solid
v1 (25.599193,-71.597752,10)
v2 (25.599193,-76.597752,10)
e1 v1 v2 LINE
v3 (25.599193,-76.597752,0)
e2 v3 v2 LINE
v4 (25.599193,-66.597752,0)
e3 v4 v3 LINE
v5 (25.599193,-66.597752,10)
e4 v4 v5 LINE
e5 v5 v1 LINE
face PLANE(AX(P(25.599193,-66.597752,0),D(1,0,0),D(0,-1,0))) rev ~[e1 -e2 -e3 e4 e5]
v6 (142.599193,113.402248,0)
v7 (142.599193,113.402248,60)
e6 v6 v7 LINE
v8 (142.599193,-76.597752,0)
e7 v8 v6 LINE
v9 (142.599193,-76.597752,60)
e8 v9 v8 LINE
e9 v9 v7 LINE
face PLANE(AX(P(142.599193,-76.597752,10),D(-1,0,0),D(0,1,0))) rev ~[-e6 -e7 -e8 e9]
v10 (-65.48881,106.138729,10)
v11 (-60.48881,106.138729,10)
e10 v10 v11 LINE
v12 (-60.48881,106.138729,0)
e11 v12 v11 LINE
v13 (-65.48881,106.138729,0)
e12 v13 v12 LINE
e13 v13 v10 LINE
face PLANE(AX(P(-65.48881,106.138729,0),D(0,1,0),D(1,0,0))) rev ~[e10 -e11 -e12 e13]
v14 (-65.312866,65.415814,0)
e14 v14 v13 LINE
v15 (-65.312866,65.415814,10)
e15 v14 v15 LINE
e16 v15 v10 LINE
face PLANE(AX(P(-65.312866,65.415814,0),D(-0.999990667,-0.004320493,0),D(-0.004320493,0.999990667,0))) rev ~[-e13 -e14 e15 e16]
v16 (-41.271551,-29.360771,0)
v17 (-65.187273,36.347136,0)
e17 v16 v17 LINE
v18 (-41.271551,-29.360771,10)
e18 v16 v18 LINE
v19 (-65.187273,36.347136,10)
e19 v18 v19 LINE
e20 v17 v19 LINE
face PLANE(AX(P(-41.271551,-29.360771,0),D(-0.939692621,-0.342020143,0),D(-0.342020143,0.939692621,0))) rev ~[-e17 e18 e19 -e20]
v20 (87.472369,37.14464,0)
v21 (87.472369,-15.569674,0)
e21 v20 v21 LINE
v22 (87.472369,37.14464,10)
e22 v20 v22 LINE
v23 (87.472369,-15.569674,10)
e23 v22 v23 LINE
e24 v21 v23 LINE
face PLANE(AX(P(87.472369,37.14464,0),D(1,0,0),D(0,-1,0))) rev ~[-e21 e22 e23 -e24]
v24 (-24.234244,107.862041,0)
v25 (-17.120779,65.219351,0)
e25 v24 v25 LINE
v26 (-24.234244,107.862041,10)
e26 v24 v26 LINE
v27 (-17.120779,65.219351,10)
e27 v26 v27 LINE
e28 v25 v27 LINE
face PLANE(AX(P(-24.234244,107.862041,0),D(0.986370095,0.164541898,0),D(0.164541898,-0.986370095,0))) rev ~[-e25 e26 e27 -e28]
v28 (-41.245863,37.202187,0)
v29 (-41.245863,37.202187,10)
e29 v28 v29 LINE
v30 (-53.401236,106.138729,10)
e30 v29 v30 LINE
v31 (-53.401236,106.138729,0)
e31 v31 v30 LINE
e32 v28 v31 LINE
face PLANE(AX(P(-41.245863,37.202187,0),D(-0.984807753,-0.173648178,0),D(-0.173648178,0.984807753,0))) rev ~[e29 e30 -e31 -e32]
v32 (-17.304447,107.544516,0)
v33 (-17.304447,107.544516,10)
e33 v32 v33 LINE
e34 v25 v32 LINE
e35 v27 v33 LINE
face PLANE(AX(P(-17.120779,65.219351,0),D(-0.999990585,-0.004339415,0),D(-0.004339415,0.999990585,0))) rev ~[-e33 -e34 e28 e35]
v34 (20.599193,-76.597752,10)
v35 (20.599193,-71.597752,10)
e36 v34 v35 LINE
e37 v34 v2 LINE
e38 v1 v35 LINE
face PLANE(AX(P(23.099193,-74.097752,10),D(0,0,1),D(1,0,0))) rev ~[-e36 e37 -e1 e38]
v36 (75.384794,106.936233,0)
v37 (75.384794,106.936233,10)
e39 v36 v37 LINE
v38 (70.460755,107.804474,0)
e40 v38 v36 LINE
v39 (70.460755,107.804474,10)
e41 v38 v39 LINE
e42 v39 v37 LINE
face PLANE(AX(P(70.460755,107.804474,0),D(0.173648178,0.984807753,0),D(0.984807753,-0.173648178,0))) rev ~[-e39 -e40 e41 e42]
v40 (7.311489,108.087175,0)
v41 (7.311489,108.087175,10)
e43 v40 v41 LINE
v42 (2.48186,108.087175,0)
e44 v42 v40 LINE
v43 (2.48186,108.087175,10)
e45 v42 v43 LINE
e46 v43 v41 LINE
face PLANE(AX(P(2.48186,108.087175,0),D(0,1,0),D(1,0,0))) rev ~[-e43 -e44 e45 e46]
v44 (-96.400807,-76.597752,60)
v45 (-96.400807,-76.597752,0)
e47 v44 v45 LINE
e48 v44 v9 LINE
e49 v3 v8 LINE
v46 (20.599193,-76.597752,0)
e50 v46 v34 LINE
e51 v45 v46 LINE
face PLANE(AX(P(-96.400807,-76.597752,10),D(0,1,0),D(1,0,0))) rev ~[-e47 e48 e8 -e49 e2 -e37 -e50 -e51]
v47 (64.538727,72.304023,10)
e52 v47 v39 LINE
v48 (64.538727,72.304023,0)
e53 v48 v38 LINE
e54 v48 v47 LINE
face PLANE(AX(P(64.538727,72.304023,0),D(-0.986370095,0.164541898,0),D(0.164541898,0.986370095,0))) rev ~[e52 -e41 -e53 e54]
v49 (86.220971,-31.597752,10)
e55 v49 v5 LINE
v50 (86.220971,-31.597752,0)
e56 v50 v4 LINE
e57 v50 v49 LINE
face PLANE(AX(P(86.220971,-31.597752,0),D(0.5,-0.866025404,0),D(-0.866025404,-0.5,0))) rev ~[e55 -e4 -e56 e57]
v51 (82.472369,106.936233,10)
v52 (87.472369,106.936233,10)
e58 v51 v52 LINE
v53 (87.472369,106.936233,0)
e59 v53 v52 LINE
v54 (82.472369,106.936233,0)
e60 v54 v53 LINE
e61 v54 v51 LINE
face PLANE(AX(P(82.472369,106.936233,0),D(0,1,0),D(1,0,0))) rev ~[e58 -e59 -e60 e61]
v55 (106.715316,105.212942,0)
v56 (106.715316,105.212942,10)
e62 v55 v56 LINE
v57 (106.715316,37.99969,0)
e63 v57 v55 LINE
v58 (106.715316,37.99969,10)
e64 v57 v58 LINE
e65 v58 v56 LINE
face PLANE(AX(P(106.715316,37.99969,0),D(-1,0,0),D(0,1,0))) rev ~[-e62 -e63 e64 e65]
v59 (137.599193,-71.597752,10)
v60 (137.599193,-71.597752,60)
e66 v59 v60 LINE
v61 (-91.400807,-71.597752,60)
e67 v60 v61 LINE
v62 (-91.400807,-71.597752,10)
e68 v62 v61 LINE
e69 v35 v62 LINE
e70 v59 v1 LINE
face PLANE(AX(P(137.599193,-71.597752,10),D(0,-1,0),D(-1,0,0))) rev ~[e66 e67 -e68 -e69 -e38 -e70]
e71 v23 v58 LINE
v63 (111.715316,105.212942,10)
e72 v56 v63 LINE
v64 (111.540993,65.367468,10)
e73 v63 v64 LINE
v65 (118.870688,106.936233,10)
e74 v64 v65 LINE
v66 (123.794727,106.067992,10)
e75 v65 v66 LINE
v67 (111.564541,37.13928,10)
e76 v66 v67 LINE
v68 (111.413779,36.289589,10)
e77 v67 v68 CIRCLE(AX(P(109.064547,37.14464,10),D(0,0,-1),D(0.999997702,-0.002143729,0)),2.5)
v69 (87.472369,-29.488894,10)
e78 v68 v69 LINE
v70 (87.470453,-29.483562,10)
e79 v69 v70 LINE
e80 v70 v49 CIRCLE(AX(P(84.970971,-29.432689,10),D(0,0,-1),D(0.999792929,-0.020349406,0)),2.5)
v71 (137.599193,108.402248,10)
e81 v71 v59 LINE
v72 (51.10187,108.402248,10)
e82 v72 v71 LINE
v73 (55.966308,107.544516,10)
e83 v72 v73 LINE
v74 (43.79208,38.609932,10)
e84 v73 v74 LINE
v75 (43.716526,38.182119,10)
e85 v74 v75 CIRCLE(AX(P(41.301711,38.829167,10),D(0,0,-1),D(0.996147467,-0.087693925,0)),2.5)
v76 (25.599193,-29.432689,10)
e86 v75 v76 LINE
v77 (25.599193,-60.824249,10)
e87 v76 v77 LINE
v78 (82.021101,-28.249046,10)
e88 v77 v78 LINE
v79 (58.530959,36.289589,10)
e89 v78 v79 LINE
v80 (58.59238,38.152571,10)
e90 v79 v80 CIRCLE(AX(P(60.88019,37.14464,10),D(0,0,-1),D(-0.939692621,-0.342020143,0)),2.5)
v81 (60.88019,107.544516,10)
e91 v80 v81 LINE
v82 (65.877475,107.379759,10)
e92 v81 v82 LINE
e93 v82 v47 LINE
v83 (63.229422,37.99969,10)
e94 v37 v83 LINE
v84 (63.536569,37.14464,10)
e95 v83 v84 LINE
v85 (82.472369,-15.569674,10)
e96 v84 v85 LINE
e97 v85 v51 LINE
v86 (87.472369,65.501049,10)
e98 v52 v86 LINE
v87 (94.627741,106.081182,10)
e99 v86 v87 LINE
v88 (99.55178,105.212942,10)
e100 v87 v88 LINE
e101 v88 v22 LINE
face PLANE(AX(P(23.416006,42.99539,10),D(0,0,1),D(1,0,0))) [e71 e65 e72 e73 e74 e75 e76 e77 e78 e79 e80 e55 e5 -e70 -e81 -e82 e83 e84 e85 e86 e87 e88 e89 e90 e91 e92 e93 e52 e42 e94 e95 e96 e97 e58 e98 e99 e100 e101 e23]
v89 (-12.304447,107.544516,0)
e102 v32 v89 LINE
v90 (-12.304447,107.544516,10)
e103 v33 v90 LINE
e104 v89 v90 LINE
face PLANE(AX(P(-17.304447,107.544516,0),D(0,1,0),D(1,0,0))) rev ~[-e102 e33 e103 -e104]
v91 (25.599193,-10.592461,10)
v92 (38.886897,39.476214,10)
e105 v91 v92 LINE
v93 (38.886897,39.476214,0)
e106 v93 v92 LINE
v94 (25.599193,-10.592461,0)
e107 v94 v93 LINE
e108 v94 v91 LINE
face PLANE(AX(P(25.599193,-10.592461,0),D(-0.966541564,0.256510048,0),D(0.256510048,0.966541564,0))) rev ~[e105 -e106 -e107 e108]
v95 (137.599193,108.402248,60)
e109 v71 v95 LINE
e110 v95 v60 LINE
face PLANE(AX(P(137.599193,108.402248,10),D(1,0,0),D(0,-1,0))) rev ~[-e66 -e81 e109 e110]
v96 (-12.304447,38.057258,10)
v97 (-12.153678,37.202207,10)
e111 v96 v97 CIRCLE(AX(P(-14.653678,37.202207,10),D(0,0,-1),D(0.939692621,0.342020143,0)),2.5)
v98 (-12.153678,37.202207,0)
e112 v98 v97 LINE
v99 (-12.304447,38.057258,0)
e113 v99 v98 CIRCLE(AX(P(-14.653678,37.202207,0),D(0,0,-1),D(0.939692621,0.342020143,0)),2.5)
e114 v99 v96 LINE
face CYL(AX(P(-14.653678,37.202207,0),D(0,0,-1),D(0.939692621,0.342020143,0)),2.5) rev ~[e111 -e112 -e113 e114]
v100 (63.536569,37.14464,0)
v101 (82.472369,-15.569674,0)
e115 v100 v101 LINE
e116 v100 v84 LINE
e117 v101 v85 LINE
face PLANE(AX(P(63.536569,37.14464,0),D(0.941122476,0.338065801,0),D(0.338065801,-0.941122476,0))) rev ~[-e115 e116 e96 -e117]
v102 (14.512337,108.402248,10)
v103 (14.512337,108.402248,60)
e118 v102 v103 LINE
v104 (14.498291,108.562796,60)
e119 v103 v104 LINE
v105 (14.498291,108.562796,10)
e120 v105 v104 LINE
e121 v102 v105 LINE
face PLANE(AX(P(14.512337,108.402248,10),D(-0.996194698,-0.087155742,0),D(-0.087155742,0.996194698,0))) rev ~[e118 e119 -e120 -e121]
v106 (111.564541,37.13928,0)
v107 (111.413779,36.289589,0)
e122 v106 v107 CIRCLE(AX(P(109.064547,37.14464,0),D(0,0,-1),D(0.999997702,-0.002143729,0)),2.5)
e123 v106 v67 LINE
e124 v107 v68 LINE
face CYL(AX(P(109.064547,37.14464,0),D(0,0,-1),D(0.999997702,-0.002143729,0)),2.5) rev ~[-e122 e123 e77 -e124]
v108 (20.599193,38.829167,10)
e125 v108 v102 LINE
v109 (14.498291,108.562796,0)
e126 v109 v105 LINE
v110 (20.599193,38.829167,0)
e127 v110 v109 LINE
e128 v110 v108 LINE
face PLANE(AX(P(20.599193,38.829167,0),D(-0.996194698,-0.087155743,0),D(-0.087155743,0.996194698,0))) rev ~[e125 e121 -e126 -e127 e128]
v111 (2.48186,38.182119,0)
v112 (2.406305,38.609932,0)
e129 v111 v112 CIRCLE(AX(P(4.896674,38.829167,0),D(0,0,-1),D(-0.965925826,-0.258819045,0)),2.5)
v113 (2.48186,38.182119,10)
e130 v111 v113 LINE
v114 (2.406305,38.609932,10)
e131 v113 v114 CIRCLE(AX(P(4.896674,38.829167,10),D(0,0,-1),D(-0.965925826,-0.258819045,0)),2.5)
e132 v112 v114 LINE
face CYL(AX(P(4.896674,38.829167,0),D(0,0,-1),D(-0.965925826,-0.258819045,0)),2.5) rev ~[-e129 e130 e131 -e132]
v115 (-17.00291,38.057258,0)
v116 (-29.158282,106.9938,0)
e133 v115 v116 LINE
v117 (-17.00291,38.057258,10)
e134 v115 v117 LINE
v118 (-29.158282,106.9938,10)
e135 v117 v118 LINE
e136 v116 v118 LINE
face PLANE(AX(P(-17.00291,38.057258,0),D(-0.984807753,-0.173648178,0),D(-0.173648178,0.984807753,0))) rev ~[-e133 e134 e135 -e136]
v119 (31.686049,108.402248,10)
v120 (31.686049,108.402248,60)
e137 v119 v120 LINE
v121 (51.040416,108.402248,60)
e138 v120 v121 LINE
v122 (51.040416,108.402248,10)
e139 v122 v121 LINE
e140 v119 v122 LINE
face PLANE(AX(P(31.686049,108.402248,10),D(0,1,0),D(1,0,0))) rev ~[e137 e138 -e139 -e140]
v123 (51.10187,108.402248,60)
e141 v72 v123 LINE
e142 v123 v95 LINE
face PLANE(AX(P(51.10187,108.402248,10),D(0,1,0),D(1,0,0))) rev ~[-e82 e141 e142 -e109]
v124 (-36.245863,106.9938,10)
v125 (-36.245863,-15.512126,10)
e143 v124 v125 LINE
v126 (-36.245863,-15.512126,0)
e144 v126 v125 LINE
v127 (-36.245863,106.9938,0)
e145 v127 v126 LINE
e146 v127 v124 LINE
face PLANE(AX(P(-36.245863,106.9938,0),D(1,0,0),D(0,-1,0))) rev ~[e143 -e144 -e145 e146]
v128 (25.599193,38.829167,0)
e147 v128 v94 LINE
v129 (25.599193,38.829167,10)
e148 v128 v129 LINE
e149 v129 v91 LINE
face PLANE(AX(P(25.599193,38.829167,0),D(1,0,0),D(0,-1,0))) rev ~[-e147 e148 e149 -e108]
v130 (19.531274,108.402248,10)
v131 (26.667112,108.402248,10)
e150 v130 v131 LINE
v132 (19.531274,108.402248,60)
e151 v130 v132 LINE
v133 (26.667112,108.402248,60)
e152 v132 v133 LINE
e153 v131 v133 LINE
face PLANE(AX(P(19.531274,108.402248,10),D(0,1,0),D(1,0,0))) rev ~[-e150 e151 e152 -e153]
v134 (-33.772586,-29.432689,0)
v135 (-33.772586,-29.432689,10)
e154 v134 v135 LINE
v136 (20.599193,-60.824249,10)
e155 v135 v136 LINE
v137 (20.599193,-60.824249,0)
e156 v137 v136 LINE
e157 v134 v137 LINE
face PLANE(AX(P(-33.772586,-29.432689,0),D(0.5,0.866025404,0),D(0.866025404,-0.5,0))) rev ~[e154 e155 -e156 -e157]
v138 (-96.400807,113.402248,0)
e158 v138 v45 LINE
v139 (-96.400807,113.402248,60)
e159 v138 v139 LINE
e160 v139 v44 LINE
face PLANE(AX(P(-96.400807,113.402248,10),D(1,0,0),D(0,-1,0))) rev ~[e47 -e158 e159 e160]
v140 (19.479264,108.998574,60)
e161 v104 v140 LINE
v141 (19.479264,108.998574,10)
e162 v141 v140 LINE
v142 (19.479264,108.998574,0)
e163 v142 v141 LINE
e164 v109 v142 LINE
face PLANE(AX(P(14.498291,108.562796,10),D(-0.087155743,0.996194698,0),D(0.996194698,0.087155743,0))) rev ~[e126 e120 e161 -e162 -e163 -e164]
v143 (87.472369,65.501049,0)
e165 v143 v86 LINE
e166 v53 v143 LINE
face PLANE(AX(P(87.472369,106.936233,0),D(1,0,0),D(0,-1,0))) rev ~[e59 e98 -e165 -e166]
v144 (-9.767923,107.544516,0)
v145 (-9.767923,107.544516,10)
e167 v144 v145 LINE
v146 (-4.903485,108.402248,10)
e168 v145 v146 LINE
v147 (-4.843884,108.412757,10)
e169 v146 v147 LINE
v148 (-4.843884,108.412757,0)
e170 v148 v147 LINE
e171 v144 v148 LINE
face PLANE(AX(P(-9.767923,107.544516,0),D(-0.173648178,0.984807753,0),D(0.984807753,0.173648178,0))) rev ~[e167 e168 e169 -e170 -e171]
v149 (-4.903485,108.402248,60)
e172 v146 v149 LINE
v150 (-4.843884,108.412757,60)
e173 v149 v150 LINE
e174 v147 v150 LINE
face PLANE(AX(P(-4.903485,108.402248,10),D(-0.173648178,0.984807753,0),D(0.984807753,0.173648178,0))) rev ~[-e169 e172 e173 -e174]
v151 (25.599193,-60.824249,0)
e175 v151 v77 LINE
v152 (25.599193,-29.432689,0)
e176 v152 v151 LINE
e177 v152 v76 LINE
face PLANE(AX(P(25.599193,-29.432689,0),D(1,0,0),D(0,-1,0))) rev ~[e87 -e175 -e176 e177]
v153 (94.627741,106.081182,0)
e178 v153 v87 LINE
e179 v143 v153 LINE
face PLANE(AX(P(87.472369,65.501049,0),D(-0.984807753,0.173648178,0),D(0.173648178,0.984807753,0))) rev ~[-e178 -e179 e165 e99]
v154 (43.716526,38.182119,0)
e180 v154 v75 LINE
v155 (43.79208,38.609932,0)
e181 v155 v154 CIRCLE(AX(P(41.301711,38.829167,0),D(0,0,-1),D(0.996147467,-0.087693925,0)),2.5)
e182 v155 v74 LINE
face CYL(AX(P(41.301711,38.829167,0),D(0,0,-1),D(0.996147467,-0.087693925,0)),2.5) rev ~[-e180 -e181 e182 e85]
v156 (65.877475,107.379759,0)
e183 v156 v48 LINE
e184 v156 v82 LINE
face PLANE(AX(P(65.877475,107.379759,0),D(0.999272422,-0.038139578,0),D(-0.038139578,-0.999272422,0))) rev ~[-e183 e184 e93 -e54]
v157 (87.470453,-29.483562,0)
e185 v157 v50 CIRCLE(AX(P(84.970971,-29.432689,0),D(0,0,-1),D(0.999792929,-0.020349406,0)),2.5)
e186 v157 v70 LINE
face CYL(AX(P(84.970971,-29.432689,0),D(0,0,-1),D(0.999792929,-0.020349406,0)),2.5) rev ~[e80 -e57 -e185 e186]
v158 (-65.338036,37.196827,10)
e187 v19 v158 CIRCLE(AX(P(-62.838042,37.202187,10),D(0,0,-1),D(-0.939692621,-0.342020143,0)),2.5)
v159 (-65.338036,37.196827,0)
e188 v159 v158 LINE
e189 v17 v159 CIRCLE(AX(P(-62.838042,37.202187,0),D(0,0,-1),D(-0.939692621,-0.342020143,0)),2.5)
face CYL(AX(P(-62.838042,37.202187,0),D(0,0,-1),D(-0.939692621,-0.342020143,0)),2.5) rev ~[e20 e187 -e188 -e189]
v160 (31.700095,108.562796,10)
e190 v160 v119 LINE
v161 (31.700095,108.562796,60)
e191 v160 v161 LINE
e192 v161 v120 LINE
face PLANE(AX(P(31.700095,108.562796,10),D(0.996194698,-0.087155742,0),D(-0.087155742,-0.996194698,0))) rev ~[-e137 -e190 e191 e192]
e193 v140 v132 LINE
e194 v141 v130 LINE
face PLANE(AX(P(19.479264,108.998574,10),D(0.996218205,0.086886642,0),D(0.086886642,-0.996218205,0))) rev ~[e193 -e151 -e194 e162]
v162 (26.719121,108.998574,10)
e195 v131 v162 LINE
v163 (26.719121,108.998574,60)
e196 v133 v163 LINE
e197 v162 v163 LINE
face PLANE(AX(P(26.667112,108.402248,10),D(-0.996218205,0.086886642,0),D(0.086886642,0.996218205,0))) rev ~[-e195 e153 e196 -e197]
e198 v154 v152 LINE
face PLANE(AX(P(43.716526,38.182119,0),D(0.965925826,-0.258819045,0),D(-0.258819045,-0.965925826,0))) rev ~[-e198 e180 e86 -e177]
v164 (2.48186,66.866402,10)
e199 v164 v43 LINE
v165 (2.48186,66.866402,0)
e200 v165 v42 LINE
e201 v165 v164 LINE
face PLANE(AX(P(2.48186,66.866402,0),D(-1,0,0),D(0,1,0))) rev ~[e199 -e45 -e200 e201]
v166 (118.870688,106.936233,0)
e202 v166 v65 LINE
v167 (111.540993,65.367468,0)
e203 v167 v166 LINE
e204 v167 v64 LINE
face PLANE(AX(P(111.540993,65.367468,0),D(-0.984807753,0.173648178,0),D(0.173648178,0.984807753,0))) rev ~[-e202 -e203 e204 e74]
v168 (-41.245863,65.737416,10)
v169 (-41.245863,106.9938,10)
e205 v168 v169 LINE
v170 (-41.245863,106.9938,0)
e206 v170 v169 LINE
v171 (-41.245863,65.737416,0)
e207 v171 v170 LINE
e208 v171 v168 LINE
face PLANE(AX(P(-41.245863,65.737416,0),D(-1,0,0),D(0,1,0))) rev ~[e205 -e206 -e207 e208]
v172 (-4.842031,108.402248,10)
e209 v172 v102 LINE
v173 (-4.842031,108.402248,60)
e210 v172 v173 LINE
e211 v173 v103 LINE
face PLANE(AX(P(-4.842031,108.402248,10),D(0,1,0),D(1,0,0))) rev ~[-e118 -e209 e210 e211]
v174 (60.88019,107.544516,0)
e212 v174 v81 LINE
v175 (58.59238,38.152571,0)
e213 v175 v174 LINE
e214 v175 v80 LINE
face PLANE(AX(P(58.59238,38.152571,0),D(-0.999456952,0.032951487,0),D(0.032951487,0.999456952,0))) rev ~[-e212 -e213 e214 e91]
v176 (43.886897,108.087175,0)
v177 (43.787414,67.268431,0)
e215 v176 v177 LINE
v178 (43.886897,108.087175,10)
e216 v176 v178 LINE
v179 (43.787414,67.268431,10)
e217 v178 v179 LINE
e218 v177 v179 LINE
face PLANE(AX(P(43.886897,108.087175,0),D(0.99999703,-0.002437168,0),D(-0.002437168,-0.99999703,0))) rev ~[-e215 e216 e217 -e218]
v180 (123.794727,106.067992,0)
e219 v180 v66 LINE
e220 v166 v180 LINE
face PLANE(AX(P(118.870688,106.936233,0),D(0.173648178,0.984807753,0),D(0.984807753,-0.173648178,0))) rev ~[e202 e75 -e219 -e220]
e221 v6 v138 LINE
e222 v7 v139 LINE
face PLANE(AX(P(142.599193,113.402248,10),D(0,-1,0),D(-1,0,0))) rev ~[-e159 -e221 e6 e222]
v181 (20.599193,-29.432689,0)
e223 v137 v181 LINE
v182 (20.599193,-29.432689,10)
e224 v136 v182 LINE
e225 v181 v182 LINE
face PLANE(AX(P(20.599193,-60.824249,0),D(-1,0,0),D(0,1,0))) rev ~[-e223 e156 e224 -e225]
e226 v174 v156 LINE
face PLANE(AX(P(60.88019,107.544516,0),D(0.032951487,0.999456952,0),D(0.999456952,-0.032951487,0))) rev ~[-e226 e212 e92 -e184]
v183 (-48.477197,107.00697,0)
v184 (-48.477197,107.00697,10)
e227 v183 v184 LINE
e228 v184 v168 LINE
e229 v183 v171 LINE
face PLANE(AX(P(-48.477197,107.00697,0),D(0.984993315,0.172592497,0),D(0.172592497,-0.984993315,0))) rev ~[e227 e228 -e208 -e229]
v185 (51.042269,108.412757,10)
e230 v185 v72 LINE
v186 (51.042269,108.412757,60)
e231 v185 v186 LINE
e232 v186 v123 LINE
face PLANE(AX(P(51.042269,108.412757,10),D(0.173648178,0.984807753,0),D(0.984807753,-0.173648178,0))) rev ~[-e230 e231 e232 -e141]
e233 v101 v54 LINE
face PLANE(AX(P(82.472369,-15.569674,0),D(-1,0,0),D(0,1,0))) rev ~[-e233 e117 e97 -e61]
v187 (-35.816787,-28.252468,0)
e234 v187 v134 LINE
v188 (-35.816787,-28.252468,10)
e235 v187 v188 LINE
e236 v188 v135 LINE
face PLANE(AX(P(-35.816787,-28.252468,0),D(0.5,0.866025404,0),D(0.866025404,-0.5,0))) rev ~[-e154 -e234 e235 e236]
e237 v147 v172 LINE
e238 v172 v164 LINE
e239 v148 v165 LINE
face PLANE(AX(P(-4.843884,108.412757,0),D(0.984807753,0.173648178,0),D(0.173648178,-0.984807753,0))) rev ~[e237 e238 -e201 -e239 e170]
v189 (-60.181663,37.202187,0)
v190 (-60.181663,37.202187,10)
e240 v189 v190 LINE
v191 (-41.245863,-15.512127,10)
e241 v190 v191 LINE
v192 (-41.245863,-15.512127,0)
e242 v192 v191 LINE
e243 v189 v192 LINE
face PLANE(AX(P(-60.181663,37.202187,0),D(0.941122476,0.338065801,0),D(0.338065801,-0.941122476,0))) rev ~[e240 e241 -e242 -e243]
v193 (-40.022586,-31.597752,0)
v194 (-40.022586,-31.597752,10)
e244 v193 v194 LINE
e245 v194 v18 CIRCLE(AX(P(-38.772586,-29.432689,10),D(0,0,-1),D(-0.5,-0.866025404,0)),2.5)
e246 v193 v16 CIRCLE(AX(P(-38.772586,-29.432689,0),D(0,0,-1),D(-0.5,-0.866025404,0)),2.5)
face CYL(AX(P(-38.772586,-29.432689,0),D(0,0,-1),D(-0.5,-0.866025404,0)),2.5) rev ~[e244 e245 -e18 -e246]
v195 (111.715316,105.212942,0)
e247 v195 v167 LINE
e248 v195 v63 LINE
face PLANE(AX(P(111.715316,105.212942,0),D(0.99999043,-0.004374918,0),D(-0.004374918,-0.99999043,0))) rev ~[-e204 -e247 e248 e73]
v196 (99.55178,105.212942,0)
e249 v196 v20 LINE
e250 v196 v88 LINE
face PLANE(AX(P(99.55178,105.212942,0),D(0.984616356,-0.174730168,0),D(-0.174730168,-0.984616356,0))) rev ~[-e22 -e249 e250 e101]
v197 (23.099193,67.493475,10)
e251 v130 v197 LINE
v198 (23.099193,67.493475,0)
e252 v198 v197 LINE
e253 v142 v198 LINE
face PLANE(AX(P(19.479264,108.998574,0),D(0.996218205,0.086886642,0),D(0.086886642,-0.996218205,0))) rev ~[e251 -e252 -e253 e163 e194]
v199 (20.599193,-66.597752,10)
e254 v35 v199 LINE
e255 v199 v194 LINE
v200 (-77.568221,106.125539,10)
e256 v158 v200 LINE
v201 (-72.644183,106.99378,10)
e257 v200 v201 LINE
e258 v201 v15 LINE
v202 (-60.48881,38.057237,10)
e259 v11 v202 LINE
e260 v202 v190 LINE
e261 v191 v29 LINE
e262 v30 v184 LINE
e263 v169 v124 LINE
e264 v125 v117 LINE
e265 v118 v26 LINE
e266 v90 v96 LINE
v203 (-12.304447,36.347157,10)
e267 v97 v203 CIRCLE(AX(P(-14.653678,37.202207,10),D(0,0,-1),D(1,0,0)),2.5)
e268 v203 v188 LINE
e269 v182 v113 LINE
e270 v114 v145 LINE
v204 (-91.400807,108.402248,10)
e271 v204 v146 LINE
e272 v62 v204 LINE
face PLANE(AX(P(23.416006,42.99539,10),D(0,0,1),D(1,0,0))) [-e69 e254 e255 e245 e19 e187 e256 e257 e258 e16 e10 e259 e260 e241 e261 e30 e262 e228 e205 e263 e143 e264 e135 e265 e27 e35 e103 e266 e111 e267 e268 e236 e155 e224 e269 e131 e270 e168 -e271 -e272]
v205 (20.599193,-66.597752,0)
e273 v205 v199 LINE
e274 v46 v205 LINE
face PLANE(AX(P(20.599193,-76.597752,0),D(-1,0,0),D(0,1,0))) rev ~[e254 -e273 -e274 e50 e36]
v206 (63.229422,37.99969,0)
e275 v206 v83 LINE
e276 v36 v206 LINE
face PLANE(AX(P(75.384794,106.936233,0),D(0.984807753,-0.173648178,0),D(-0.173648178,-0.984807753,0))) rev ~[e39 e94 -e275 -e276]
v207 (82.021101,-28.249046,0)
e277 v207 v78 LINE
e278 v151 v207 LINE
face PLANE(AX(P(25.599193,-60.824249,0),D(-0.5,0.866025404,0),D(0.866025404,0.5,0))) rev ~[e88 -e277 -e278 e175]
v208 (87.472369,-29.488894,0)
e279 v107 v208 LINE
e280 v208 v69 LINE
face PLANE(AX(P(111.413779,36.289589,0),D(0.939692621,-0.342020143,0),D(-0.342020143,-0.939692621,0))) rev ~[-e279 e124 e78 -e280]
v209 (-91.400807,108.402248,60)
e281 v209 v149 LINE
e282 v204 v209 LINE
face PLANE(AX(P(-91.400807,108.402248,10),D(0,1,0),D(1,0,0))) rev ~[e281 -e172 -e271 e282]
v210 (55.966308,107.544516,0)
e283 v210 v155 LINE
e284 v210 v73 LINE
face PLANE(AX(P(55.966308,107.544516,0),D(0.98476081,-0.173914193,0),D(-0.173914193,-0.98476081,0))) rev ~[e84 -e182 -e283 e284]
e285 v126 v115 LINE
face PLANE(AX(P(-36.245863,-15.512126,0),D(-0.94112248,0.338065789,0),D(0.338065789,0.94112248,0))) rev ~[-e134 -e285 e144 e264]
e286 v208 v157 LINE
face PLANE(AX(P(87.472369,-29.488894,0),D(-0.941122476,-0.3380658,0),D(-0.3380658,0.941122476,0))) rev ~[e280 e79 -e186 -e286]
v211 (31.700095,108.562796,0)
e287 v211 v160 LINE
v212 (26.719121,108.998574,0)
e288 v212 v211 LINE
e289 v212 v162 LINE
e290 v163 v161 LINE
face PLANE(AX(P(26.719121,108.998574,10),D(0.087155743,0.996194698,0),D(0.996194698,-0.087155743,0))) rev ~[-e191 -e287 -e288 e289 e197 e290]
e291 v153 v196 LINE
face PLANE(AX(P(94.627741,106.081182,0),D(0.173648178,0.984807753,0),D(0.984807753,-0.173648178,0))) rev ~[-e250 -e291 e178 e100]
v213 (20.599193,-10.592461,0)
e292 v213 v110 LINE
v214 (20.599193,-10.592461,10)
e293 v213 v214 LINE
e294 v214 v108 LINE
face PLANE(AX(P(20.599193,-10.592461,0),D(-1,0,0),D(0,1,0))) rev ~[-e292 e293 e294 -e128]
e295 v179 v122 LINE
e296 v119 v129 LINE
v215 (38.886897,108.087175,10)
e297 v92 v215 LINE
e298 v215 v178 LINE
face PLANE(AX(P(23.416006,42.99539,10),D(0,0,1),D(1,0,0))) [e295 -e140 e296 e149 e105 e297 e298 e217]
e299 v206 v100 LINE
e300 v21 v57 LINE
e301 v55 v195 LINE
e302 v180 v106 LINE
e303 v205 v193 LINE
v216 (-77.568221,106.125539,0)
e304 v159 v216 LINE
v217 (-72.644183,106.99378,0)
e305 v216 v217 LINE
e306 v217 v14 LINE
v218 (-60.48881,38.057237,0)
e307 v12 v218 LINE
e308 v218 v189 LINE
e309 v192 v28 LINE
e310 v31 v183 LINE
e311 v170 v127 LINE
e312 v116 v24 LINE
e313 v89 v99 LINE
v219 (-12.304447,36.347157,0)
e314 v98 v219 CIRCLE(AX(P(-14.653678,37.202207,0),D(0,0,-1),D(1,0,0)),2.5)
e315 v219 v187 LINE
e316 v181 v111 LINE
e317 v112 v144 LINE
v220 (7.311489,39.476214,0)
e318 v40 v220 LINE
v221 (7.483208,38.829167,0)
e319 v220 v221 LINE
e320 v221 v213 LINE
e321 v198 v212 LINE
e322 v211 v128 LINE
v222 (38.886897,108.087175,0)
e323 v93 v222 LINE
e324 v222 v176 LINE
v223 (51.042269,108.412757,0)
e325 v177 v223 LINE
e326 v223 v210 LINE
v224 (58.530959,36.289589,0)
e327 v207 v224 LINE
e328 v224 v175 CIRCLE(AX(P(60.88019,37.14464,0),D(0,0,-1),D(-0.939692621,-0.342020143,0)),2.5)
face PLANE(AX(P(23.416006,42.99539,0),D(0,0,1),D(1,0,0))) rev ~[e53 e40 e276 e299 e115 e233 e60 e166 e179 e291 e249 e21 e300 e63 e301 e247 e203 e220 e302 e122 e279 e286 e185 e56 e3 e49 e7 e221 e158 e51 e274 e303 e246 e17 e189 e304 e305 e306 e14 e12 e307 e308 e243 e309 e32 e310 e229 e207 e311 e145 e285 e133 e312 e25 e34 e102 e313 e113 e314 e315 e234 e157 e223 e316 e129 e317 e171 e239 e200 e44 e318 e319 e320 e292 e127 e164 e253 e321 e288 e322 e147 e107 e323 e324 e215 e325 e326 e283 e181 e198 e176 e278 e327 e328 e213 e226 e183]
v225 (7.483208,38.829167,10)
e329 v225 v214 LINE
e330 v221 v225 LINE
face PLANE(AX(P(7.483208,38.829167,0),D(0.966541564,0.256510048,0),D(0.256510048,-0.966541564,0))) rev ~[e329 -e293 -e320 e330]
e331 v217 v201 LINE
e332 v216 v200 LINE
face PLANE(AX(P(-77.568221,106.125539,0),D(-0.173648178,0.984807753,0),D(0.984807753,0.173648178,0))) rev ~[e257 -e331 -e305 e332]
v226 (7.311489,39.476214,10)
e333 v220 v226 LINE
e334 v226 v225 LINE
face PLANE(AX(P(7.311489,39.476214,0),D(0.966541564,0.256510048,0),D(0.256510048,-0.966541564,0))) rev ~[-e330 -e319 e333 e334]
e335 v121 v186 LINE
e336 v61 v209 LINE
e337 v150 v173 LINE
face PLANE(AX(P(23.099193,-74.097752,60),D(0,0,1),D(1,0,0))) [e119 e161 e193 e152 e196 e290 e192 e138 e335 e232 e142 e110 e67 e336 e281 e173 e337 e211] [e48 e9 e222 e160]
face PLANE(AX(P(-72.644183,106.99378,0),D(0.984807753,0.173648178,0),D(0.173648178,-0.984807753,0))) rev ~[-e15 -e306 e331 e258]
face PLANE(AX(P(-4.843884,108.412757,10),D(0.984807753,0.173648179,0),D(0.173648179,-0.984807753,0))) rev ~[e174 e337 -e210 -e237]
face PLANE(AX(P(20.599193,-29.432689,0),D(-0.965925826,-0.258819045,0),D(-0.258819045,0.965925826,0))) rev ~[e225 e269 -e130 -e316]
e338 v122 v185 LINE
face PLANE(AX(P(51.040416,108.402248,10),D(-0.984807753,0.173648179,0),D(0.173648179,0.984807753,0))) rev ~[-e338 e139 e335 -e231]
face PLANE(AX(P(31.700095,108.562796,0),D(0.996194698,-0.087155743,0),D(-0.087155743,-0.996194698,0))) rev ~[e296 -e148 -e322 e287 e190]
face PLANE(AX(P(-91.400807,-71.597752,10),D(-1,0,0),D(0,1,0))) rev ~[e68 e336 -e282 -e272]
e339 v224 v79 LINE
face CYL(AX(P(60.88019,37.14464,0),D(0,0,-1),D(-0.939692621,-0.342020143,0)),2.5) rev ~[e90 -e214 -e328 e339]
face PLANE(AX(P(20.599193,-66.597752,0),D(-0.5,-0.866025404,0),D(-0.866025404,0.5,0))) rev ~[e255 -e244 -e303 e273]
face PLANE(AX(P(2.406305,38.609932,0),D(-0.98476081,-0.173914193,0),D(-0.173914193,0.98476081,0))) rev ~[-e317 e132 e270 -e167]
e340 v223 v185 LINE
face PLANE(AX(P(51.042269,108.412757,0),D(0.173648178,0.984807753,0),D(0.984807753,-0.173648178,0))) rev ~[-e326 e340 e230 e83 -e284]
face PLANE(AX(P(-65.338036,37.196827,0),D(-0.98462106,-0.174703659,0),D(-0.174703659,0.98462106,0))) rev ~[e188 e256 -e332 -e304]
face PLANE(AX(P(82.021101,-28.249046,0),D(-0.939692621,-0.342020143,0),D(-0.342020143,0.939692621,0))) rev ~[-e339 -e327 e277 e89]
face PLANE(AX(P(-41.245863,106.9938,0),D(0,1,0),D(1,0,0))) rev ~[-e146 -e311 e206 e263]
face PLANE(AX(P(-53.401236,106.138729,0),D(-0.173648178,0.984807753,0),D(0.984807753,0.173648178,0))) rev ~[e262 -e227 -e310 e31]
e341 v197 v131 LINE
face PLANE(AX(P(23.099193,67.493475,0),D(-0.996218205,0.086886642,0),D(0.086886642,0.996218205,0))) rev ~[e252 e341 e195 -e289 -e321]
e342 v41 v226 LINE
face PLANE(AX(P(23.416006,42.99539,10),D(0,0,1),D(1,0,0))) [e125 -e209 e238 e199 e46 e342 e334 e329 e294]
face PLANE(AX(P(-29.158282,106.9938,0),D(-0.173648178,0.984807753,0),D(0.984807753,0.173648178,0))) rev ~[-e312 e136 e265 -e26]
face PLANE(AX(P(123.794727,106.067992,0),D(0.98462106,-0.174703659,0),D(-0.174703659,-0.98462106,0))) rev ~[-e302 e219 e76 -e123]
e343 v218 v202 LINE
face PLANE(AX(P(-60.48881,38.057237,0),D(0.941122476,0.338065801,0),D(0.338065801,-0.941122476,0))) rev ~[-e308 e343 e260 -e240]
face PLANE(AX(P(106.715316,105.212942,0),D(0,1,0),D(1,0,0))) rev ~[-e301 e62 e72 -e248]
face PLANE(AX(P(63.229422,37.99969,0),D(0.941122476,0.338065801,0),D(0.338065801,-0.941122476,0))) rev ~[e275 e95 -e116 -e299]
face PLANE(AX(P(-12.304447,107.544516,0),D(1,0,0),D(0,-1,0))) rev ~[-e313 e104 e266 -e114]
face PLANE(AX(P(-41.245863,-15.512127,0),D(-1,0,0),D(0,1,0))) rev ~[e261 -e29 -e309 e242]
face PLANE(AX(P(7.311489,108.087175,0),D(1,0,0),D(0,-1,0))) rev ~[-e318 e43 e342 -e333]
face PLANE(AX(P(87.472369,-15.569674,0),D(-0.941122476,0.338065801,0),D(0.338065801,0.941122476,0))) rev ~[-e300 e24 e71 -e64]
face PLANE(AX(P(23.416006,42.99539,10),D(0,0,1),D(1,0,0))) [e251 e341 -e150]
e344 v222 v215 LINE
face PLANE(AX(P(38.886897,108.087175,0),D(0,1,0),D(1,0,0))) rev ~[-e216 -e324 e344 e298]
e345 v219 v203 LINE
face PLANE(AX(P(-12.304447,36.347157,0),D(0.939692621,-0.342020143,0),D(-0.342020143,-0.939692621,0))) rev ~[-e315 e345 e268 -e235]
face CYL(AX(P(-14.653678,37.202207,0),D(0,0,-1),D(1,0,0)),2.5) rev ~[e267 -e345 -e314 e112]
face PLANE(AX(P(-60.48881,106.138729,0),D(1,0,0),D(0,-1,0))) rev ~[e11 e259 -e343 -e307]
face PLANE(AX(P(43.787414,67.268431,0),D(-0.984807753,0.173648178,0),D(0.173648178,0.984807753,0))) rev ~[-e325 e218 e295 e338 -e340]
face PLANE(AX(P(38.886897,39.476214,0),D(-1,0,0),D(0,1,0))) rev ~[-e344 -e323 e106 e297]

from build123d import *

# Parameters (mm, degrees)
F1_DEPTH = 10
F2_W     = 5
F2_H     = 5
F2_W_2   = 112
F2_H_2   = 175.8788333833
F3_DEPTH = 50


with BuildPart() as f1:
    # F0 (on Top) → F1 (new body)
    with BuildSketch(Plane.XY):
        with BuildLine():
            Line((86.2209709888, -31.5977521241), (25.5991927239, -66.5977521241))
            Line((25.5991927239, -66.5977521241), (25.5991927239, -76.5977521241))
            Line((25.5991927239, -76.5977521241), (142.5991927239, -76.5977521241))
            Line((142.5991927239, -76.5977521241), (142.5991927239, 113.4022478759))
            Line((142.5991927239, 113.4022478759), (-96.4008072761, 113.4022478759))
            Line((-96.4008072761, 113.4022478759), (-96.4008072761, -76.5977521241))
            Line((-96.4008072761, -76.5977521241), (20.5991927239, -76.5977521241))
            Line((20.5991927239, -76.5977521241), (20.5991927239, -66.5977521241))
            Line((20.5991927239, -66.5977521241), (-40.022585541, -31.5977521241))
            ThreePointArc((-40.022585541, -31.5977521241), (-40.9554062839, -30.6514148366), (-41.2715508997, -29.3607710507))
            Line((-41.2715508997, -29.3607710507), (-65.1872733153, 36.3471362561))
            ThreePointArc((-65.1872733153, 36.3471362561), (-65.299594413, 36.765427467), (-65.3380360189, 37.1968272921))
            Line((-65.3380360189, 37.1968272921), (-77.5682214131, 106.1255387952))
            Line((-77.5682214131, 106.1255387952), (-72.6441826481, 106.9937796835))
            Line((-72.6441826481, 106.9937796835), (-65.3128655033, 65.4158140463))
            Line((-65.3128655033, 65.4158140463), (-65.4888102114, 106.1387293252))
            Line((-65.4888102114, 106.1387293252), (-60.4888102114, 106.1387293252))
            Line((-60.4888102114, 106.1387293252), (-60.4888102114, 38.0572369727))
            Line((-60.4888102114, 38.0572369727), (-60.1816628514, 37.2021866144))
            Line((-60.1816628514, 37.2021866144), (-41.2458632825, 37.2021866144))
            Line((-41.2458632825, 37.2021866144), (-53.4012357192, 106.1387293252))
            Line((-53.4012357192, 106.1387293252), (-48.4771969541, 107.0069702136))
            Line((-48.4771969541, 107.0069702136), (-41.2458632825, 65.7374164892))
            Line((-41.2458632825, 65.7374164892), (-41.2458632825, 106.9938002617))
            Line((-41.2458632825, 106.9938002617), (-36.2458632825, 106.9938002617))
            Line((-36.2458632825, 106.9938002617), (-36.2458632825, 37.2021866144))
            Line((-36.2458632825, 37.2021866144), (-36.2458632825, -15.5121263044))
            Line((-36.2458632825, -15.5121263044), (-17.0029098654, 38.0572575508))
            Line((-17.0029098654, 38.0572575508), (-29.1582823021, 106.9938002617))
            Line((-29.1582823021, 106.9938002617), (-24.234243537, 107.86204115))
            Line((-24.234243537, 107.86204115), (-17.1207785738, 65.2193512955))
            Line((-17.1207785738, 65.2193512955), (-17.3044467615, 107.5445162737))
            Line((-17.3044467615, 107.5445162737), (-12.3044467615, 107.5445162737))
            Line((-12.3044467615, 107.5445162737), (-12.3044467615, 38.0572575508))
            ThreePointArc((-12.3044467615, 38.0572575508), (-12.1916589309, 37.6363276367), (-12.1536783134, 37.2022071925))
            ThreePointArc((-12.1536783134, 37.2022071925), (-12.1916589309, 36.7680867483), (-12.3044467615, 36.3471568342))
            Line((-12.3044467615, 36.3471568342), (-35.8167873917, -28.2524681259))
            Line((-35.8167873917, -28.2524681259), (-33.772585541, -29.4326886146))
            Line((-33.772585541, -29.4326886146), (20.5991927239, -29.4326886146))
            Line((20.5991927239, -29.4326886146), (2.4818595667, 38.1821192256))
            ThreePointArc((2.4818595667, 38.1821192256), (2.4347721068, 38.3943813555), (2.4063054657, 38.6099320248))
            Line((2.4063054657, 38.6099320248), (-9.7679225036, 107.5445162737))
            Line((-9.7679225036, 107.5445162737), (-4.8438837385, 108.412757162))
            Line((-4.8438837385, 108.412757162), (2.4818595667, 66.8664023398))
            Line((2.4818595667, 66.8664023398), (2.4818595667, 108.0871745944))
            Line((2.4818595667, 108.0871745944), (7.3114886982, 108.0871745944))
            Line((7.3114886982, 108.0871745944), (7.3114886982, 39.4762144511))
            Line((7.3114886982, 39.4762144511), (7.4832083847, 38.8291668384))
            Line((7.4832083847, 38.8291668384), (20.5991927239, 38.8291668384))
            Line((20.5991927239, 38.8291668384), (14.4982907316, 108.5627957048))
            Line((14.4982907316, 108.5627957048), (19.479264222, 108.9985744185))
            Line((19.479264222, 108.9985744185), (23.0991927239, 67.4934753996))
            Line((23.0991927239, 67.4934753996), (26.7191212258, 108.9985744185))
            Line((26.7191212258, 108.9985744185), (31.7000947162, 108.5627957048))
            Line((31.7000947162, 108.5627957048), (25.5991927239, 38.8291668384))
            Line((25.5991927239, 38.8291668384), (25.5991927239, -10.5924605114))
            Line((25.5991927239, -10.5924605114), (38.8868967496, 39.4762144511))
            Line((38.8868967496, 39.4762144511), (38.8868967496, 108.0871745944))
            Line((38.8868967496, 108.0871745944), (43.8868967496, 108.0871745944))
            Line((43.8868967496, 108.0871745944), (43.7874143185, 67.2684306459))
            Line((43.7874143185, 67.2684306459), (51.0422691863, 108.412757162))
            Line((51.0422691863, 108.412757162), (55.9663079514, 107.5445162737))
            Line((55.9663079514, 107.5445162737), (43.7920799821, 38.6099320248))
            ThreePointArc((43.7920799821, 38.6099320248), (43.763613341, 38.3943813555), (43.7165258811, 38.1821192256))
            Line((43.7165258811, 38.1821192256), (25.5991927239, -29.4326886146))
            Line((25.5991927239, -29.4326886146), (25.5991927239, -60.8242494322))
            Line((25.5991927239, -60.8242494322), (82.0211007138, -28.249045666))
            Line((82.0211007138, -28.249045666), (58.5309586011, 36.2895893685))
            ThreePointArc((58.5309586011, 36.2895893685), (58.3815477723, 37.2270184447), (58.5923799556, 38.1525705281))
            Line((58.5923799556, 38.1525705281), (60.8801901531, 107.5445162737))
            Line((60.8801901531, 107.5445162737), (65.8774749146, 107.379758838))
            Line((65.8774749146, 107.379758838), (64.5387270896, 72.304022517))
            Line((64.5387270896, 72.304022517), (70.4607553767, 107.8044736843))
            Line((70.4607553767, 107.8044736843), (75.3847941417, 106.936232796))
            Line((75.3847941417, 106.936232796), (63.229421705, 37.9996900851))
            Line((63.229421705, 37.9996900851), (63.536569065, 37.1446397268))
            Line((63.536569065, 37.1446397268), (82.4723686339, 37.1446397268))
            Line((82.4723686339, 37.1446397268), (82.4723686339, 106.936232796))
            Line((82.4723686339, 106.936232796), (87.4723686339, 106.936232796))
            Line((87.4723686339, 106.936232796), (87.4723686339, 65.5010488249))
            Line((87.4723686339, 65.5010488249), (94.6277410706, 106.0811824377))
            Line((94.6277410706, 106.0811824377), (99.5517798357, 105.2129415493))
            Line((99.5517798357, 105.2129415493), (87.4723686339, 37.1446397268))
            Line((87.4723686339, 37.1446397268), (87.4723686339, -15.5696737109))
            Line((87.4723686339, -15.5696737109), (106.7153155628, 37.9996900851))
            Line((106.7153155628, 37.9996900851), (106.7153155628, 105.2129415493))
            Line((106.7153155628, 105.2129415493), (111.7153155628, 105.2129415493))
            Line((111.7153155628, 105.2129415493), (111.5409932174, 65.3674680349))
            Line((111.5409932174, 65.3674680349), (118.8706879995, 106.936232796))
            Line((118.8706879995, 106.936232796), (123.7947267645, 106.0679919077))
            Line((123.7947267645, 106.0679919077), (111.5645413703, 37.1392804046))
            ThreePointArc((111.5645413703, 37.1392804046), (111.5260997644, 36.7078805795), (111.4137786667, 36.2895893685))
            Line((111.4137786667, 36.2895893685), (87.4723686339, -29.4888940865))
            Line((87.4723686339, -29.4888940865), (87.4704533123, -29.4835621298))
            ThreePointArc((87.4704533123, -29.4835621298), (87.1232033779, -30.7046539221), (86.2209709888, -31.5977521241))
        make_face()
        Polygon((-33.772585541, -29.4326886146), (20.5991927239, -60.8242494322), (20.5991927239, -29.4326886146), align=None)
        Polygon((-60.1816628514, 37.2021866144), (-41.2458632825, -15.5121268233), (-41.2458632825, 37.2021866144), align=None)
        Polygon((7.4832083847, 38.8291668384), (20.5991927239, -10.5924605114), (20.5991927239, 38.8291668384), align=None)
        Polygon((63.536569065, 37.1446397268), (82.4723686339, -15.5696737109), (82.4723686339, 37.1446397268), align=None)
    extrude(amount=F1_DEPTH)

    # F2 (on face) → F3 (join)
    with BuildSketch(Plane.XY.offset(10)):
        with Locations((23.0991927239, -74.0977521241)):
            Rectangle(F2_W, F2_H)
        Polygon((25.5991927239, -71.5977521241), (25.5991927239, -76.5977521241), (142.5991927239, -76.5977521241), (142.5991927239, -67.4765855074), (137.5991927239, -67.4765855074), (137.5991927239, -71.5977521241), align=None)
        with Locations((-35.4008072761, -74.0977521241)):
            Rectangle(F2_W_2, F2_H)
        Polygon((-96.4008072761, 113.4022478759), (-96.4008072761, -76.5977521241), (-91.4008072761, -76.5977521241), (-91.4008072761, -71.5977521241), (-91.4008072761, 108.4022478759), (-91.4008072761, 113.4022478759), align=None)
        with Locations((140.0991927239, 20.4628311843)):
            Rectangle(F2_W, F2_H_2)
        Polygon((142.5991927239, 113.4022478759), (-91.4008072761, 113.4022478759), (-91.4008072761, 108.4022478759), (-4.9034848615, 108.4022478759), (-4.8438837385, 108.412757162), (-4.8420306678, 108.4022478759), (14.5123368465, 108.4022478759), (14.4982907316, 108.5627957048), (19.479264222, 108.9985744185), (19.531273722, 108.4022478759), (26.6671117258, 108.4022478759), (26.7191212258, 108.9985744185), (31.7000947162, 108.5627957048), (31.6860486013, 108.4022478759), (51.0404161156, 108.4022478759), (51.0422691863, 108.412757162), (51.1018703093, 108.4022478759), (137.5991927239, 108.4022478759), (142.5991927239, 108.4022478759), align=None)
    extrude(amount=F3_DEPTH)


solid = f1.part
